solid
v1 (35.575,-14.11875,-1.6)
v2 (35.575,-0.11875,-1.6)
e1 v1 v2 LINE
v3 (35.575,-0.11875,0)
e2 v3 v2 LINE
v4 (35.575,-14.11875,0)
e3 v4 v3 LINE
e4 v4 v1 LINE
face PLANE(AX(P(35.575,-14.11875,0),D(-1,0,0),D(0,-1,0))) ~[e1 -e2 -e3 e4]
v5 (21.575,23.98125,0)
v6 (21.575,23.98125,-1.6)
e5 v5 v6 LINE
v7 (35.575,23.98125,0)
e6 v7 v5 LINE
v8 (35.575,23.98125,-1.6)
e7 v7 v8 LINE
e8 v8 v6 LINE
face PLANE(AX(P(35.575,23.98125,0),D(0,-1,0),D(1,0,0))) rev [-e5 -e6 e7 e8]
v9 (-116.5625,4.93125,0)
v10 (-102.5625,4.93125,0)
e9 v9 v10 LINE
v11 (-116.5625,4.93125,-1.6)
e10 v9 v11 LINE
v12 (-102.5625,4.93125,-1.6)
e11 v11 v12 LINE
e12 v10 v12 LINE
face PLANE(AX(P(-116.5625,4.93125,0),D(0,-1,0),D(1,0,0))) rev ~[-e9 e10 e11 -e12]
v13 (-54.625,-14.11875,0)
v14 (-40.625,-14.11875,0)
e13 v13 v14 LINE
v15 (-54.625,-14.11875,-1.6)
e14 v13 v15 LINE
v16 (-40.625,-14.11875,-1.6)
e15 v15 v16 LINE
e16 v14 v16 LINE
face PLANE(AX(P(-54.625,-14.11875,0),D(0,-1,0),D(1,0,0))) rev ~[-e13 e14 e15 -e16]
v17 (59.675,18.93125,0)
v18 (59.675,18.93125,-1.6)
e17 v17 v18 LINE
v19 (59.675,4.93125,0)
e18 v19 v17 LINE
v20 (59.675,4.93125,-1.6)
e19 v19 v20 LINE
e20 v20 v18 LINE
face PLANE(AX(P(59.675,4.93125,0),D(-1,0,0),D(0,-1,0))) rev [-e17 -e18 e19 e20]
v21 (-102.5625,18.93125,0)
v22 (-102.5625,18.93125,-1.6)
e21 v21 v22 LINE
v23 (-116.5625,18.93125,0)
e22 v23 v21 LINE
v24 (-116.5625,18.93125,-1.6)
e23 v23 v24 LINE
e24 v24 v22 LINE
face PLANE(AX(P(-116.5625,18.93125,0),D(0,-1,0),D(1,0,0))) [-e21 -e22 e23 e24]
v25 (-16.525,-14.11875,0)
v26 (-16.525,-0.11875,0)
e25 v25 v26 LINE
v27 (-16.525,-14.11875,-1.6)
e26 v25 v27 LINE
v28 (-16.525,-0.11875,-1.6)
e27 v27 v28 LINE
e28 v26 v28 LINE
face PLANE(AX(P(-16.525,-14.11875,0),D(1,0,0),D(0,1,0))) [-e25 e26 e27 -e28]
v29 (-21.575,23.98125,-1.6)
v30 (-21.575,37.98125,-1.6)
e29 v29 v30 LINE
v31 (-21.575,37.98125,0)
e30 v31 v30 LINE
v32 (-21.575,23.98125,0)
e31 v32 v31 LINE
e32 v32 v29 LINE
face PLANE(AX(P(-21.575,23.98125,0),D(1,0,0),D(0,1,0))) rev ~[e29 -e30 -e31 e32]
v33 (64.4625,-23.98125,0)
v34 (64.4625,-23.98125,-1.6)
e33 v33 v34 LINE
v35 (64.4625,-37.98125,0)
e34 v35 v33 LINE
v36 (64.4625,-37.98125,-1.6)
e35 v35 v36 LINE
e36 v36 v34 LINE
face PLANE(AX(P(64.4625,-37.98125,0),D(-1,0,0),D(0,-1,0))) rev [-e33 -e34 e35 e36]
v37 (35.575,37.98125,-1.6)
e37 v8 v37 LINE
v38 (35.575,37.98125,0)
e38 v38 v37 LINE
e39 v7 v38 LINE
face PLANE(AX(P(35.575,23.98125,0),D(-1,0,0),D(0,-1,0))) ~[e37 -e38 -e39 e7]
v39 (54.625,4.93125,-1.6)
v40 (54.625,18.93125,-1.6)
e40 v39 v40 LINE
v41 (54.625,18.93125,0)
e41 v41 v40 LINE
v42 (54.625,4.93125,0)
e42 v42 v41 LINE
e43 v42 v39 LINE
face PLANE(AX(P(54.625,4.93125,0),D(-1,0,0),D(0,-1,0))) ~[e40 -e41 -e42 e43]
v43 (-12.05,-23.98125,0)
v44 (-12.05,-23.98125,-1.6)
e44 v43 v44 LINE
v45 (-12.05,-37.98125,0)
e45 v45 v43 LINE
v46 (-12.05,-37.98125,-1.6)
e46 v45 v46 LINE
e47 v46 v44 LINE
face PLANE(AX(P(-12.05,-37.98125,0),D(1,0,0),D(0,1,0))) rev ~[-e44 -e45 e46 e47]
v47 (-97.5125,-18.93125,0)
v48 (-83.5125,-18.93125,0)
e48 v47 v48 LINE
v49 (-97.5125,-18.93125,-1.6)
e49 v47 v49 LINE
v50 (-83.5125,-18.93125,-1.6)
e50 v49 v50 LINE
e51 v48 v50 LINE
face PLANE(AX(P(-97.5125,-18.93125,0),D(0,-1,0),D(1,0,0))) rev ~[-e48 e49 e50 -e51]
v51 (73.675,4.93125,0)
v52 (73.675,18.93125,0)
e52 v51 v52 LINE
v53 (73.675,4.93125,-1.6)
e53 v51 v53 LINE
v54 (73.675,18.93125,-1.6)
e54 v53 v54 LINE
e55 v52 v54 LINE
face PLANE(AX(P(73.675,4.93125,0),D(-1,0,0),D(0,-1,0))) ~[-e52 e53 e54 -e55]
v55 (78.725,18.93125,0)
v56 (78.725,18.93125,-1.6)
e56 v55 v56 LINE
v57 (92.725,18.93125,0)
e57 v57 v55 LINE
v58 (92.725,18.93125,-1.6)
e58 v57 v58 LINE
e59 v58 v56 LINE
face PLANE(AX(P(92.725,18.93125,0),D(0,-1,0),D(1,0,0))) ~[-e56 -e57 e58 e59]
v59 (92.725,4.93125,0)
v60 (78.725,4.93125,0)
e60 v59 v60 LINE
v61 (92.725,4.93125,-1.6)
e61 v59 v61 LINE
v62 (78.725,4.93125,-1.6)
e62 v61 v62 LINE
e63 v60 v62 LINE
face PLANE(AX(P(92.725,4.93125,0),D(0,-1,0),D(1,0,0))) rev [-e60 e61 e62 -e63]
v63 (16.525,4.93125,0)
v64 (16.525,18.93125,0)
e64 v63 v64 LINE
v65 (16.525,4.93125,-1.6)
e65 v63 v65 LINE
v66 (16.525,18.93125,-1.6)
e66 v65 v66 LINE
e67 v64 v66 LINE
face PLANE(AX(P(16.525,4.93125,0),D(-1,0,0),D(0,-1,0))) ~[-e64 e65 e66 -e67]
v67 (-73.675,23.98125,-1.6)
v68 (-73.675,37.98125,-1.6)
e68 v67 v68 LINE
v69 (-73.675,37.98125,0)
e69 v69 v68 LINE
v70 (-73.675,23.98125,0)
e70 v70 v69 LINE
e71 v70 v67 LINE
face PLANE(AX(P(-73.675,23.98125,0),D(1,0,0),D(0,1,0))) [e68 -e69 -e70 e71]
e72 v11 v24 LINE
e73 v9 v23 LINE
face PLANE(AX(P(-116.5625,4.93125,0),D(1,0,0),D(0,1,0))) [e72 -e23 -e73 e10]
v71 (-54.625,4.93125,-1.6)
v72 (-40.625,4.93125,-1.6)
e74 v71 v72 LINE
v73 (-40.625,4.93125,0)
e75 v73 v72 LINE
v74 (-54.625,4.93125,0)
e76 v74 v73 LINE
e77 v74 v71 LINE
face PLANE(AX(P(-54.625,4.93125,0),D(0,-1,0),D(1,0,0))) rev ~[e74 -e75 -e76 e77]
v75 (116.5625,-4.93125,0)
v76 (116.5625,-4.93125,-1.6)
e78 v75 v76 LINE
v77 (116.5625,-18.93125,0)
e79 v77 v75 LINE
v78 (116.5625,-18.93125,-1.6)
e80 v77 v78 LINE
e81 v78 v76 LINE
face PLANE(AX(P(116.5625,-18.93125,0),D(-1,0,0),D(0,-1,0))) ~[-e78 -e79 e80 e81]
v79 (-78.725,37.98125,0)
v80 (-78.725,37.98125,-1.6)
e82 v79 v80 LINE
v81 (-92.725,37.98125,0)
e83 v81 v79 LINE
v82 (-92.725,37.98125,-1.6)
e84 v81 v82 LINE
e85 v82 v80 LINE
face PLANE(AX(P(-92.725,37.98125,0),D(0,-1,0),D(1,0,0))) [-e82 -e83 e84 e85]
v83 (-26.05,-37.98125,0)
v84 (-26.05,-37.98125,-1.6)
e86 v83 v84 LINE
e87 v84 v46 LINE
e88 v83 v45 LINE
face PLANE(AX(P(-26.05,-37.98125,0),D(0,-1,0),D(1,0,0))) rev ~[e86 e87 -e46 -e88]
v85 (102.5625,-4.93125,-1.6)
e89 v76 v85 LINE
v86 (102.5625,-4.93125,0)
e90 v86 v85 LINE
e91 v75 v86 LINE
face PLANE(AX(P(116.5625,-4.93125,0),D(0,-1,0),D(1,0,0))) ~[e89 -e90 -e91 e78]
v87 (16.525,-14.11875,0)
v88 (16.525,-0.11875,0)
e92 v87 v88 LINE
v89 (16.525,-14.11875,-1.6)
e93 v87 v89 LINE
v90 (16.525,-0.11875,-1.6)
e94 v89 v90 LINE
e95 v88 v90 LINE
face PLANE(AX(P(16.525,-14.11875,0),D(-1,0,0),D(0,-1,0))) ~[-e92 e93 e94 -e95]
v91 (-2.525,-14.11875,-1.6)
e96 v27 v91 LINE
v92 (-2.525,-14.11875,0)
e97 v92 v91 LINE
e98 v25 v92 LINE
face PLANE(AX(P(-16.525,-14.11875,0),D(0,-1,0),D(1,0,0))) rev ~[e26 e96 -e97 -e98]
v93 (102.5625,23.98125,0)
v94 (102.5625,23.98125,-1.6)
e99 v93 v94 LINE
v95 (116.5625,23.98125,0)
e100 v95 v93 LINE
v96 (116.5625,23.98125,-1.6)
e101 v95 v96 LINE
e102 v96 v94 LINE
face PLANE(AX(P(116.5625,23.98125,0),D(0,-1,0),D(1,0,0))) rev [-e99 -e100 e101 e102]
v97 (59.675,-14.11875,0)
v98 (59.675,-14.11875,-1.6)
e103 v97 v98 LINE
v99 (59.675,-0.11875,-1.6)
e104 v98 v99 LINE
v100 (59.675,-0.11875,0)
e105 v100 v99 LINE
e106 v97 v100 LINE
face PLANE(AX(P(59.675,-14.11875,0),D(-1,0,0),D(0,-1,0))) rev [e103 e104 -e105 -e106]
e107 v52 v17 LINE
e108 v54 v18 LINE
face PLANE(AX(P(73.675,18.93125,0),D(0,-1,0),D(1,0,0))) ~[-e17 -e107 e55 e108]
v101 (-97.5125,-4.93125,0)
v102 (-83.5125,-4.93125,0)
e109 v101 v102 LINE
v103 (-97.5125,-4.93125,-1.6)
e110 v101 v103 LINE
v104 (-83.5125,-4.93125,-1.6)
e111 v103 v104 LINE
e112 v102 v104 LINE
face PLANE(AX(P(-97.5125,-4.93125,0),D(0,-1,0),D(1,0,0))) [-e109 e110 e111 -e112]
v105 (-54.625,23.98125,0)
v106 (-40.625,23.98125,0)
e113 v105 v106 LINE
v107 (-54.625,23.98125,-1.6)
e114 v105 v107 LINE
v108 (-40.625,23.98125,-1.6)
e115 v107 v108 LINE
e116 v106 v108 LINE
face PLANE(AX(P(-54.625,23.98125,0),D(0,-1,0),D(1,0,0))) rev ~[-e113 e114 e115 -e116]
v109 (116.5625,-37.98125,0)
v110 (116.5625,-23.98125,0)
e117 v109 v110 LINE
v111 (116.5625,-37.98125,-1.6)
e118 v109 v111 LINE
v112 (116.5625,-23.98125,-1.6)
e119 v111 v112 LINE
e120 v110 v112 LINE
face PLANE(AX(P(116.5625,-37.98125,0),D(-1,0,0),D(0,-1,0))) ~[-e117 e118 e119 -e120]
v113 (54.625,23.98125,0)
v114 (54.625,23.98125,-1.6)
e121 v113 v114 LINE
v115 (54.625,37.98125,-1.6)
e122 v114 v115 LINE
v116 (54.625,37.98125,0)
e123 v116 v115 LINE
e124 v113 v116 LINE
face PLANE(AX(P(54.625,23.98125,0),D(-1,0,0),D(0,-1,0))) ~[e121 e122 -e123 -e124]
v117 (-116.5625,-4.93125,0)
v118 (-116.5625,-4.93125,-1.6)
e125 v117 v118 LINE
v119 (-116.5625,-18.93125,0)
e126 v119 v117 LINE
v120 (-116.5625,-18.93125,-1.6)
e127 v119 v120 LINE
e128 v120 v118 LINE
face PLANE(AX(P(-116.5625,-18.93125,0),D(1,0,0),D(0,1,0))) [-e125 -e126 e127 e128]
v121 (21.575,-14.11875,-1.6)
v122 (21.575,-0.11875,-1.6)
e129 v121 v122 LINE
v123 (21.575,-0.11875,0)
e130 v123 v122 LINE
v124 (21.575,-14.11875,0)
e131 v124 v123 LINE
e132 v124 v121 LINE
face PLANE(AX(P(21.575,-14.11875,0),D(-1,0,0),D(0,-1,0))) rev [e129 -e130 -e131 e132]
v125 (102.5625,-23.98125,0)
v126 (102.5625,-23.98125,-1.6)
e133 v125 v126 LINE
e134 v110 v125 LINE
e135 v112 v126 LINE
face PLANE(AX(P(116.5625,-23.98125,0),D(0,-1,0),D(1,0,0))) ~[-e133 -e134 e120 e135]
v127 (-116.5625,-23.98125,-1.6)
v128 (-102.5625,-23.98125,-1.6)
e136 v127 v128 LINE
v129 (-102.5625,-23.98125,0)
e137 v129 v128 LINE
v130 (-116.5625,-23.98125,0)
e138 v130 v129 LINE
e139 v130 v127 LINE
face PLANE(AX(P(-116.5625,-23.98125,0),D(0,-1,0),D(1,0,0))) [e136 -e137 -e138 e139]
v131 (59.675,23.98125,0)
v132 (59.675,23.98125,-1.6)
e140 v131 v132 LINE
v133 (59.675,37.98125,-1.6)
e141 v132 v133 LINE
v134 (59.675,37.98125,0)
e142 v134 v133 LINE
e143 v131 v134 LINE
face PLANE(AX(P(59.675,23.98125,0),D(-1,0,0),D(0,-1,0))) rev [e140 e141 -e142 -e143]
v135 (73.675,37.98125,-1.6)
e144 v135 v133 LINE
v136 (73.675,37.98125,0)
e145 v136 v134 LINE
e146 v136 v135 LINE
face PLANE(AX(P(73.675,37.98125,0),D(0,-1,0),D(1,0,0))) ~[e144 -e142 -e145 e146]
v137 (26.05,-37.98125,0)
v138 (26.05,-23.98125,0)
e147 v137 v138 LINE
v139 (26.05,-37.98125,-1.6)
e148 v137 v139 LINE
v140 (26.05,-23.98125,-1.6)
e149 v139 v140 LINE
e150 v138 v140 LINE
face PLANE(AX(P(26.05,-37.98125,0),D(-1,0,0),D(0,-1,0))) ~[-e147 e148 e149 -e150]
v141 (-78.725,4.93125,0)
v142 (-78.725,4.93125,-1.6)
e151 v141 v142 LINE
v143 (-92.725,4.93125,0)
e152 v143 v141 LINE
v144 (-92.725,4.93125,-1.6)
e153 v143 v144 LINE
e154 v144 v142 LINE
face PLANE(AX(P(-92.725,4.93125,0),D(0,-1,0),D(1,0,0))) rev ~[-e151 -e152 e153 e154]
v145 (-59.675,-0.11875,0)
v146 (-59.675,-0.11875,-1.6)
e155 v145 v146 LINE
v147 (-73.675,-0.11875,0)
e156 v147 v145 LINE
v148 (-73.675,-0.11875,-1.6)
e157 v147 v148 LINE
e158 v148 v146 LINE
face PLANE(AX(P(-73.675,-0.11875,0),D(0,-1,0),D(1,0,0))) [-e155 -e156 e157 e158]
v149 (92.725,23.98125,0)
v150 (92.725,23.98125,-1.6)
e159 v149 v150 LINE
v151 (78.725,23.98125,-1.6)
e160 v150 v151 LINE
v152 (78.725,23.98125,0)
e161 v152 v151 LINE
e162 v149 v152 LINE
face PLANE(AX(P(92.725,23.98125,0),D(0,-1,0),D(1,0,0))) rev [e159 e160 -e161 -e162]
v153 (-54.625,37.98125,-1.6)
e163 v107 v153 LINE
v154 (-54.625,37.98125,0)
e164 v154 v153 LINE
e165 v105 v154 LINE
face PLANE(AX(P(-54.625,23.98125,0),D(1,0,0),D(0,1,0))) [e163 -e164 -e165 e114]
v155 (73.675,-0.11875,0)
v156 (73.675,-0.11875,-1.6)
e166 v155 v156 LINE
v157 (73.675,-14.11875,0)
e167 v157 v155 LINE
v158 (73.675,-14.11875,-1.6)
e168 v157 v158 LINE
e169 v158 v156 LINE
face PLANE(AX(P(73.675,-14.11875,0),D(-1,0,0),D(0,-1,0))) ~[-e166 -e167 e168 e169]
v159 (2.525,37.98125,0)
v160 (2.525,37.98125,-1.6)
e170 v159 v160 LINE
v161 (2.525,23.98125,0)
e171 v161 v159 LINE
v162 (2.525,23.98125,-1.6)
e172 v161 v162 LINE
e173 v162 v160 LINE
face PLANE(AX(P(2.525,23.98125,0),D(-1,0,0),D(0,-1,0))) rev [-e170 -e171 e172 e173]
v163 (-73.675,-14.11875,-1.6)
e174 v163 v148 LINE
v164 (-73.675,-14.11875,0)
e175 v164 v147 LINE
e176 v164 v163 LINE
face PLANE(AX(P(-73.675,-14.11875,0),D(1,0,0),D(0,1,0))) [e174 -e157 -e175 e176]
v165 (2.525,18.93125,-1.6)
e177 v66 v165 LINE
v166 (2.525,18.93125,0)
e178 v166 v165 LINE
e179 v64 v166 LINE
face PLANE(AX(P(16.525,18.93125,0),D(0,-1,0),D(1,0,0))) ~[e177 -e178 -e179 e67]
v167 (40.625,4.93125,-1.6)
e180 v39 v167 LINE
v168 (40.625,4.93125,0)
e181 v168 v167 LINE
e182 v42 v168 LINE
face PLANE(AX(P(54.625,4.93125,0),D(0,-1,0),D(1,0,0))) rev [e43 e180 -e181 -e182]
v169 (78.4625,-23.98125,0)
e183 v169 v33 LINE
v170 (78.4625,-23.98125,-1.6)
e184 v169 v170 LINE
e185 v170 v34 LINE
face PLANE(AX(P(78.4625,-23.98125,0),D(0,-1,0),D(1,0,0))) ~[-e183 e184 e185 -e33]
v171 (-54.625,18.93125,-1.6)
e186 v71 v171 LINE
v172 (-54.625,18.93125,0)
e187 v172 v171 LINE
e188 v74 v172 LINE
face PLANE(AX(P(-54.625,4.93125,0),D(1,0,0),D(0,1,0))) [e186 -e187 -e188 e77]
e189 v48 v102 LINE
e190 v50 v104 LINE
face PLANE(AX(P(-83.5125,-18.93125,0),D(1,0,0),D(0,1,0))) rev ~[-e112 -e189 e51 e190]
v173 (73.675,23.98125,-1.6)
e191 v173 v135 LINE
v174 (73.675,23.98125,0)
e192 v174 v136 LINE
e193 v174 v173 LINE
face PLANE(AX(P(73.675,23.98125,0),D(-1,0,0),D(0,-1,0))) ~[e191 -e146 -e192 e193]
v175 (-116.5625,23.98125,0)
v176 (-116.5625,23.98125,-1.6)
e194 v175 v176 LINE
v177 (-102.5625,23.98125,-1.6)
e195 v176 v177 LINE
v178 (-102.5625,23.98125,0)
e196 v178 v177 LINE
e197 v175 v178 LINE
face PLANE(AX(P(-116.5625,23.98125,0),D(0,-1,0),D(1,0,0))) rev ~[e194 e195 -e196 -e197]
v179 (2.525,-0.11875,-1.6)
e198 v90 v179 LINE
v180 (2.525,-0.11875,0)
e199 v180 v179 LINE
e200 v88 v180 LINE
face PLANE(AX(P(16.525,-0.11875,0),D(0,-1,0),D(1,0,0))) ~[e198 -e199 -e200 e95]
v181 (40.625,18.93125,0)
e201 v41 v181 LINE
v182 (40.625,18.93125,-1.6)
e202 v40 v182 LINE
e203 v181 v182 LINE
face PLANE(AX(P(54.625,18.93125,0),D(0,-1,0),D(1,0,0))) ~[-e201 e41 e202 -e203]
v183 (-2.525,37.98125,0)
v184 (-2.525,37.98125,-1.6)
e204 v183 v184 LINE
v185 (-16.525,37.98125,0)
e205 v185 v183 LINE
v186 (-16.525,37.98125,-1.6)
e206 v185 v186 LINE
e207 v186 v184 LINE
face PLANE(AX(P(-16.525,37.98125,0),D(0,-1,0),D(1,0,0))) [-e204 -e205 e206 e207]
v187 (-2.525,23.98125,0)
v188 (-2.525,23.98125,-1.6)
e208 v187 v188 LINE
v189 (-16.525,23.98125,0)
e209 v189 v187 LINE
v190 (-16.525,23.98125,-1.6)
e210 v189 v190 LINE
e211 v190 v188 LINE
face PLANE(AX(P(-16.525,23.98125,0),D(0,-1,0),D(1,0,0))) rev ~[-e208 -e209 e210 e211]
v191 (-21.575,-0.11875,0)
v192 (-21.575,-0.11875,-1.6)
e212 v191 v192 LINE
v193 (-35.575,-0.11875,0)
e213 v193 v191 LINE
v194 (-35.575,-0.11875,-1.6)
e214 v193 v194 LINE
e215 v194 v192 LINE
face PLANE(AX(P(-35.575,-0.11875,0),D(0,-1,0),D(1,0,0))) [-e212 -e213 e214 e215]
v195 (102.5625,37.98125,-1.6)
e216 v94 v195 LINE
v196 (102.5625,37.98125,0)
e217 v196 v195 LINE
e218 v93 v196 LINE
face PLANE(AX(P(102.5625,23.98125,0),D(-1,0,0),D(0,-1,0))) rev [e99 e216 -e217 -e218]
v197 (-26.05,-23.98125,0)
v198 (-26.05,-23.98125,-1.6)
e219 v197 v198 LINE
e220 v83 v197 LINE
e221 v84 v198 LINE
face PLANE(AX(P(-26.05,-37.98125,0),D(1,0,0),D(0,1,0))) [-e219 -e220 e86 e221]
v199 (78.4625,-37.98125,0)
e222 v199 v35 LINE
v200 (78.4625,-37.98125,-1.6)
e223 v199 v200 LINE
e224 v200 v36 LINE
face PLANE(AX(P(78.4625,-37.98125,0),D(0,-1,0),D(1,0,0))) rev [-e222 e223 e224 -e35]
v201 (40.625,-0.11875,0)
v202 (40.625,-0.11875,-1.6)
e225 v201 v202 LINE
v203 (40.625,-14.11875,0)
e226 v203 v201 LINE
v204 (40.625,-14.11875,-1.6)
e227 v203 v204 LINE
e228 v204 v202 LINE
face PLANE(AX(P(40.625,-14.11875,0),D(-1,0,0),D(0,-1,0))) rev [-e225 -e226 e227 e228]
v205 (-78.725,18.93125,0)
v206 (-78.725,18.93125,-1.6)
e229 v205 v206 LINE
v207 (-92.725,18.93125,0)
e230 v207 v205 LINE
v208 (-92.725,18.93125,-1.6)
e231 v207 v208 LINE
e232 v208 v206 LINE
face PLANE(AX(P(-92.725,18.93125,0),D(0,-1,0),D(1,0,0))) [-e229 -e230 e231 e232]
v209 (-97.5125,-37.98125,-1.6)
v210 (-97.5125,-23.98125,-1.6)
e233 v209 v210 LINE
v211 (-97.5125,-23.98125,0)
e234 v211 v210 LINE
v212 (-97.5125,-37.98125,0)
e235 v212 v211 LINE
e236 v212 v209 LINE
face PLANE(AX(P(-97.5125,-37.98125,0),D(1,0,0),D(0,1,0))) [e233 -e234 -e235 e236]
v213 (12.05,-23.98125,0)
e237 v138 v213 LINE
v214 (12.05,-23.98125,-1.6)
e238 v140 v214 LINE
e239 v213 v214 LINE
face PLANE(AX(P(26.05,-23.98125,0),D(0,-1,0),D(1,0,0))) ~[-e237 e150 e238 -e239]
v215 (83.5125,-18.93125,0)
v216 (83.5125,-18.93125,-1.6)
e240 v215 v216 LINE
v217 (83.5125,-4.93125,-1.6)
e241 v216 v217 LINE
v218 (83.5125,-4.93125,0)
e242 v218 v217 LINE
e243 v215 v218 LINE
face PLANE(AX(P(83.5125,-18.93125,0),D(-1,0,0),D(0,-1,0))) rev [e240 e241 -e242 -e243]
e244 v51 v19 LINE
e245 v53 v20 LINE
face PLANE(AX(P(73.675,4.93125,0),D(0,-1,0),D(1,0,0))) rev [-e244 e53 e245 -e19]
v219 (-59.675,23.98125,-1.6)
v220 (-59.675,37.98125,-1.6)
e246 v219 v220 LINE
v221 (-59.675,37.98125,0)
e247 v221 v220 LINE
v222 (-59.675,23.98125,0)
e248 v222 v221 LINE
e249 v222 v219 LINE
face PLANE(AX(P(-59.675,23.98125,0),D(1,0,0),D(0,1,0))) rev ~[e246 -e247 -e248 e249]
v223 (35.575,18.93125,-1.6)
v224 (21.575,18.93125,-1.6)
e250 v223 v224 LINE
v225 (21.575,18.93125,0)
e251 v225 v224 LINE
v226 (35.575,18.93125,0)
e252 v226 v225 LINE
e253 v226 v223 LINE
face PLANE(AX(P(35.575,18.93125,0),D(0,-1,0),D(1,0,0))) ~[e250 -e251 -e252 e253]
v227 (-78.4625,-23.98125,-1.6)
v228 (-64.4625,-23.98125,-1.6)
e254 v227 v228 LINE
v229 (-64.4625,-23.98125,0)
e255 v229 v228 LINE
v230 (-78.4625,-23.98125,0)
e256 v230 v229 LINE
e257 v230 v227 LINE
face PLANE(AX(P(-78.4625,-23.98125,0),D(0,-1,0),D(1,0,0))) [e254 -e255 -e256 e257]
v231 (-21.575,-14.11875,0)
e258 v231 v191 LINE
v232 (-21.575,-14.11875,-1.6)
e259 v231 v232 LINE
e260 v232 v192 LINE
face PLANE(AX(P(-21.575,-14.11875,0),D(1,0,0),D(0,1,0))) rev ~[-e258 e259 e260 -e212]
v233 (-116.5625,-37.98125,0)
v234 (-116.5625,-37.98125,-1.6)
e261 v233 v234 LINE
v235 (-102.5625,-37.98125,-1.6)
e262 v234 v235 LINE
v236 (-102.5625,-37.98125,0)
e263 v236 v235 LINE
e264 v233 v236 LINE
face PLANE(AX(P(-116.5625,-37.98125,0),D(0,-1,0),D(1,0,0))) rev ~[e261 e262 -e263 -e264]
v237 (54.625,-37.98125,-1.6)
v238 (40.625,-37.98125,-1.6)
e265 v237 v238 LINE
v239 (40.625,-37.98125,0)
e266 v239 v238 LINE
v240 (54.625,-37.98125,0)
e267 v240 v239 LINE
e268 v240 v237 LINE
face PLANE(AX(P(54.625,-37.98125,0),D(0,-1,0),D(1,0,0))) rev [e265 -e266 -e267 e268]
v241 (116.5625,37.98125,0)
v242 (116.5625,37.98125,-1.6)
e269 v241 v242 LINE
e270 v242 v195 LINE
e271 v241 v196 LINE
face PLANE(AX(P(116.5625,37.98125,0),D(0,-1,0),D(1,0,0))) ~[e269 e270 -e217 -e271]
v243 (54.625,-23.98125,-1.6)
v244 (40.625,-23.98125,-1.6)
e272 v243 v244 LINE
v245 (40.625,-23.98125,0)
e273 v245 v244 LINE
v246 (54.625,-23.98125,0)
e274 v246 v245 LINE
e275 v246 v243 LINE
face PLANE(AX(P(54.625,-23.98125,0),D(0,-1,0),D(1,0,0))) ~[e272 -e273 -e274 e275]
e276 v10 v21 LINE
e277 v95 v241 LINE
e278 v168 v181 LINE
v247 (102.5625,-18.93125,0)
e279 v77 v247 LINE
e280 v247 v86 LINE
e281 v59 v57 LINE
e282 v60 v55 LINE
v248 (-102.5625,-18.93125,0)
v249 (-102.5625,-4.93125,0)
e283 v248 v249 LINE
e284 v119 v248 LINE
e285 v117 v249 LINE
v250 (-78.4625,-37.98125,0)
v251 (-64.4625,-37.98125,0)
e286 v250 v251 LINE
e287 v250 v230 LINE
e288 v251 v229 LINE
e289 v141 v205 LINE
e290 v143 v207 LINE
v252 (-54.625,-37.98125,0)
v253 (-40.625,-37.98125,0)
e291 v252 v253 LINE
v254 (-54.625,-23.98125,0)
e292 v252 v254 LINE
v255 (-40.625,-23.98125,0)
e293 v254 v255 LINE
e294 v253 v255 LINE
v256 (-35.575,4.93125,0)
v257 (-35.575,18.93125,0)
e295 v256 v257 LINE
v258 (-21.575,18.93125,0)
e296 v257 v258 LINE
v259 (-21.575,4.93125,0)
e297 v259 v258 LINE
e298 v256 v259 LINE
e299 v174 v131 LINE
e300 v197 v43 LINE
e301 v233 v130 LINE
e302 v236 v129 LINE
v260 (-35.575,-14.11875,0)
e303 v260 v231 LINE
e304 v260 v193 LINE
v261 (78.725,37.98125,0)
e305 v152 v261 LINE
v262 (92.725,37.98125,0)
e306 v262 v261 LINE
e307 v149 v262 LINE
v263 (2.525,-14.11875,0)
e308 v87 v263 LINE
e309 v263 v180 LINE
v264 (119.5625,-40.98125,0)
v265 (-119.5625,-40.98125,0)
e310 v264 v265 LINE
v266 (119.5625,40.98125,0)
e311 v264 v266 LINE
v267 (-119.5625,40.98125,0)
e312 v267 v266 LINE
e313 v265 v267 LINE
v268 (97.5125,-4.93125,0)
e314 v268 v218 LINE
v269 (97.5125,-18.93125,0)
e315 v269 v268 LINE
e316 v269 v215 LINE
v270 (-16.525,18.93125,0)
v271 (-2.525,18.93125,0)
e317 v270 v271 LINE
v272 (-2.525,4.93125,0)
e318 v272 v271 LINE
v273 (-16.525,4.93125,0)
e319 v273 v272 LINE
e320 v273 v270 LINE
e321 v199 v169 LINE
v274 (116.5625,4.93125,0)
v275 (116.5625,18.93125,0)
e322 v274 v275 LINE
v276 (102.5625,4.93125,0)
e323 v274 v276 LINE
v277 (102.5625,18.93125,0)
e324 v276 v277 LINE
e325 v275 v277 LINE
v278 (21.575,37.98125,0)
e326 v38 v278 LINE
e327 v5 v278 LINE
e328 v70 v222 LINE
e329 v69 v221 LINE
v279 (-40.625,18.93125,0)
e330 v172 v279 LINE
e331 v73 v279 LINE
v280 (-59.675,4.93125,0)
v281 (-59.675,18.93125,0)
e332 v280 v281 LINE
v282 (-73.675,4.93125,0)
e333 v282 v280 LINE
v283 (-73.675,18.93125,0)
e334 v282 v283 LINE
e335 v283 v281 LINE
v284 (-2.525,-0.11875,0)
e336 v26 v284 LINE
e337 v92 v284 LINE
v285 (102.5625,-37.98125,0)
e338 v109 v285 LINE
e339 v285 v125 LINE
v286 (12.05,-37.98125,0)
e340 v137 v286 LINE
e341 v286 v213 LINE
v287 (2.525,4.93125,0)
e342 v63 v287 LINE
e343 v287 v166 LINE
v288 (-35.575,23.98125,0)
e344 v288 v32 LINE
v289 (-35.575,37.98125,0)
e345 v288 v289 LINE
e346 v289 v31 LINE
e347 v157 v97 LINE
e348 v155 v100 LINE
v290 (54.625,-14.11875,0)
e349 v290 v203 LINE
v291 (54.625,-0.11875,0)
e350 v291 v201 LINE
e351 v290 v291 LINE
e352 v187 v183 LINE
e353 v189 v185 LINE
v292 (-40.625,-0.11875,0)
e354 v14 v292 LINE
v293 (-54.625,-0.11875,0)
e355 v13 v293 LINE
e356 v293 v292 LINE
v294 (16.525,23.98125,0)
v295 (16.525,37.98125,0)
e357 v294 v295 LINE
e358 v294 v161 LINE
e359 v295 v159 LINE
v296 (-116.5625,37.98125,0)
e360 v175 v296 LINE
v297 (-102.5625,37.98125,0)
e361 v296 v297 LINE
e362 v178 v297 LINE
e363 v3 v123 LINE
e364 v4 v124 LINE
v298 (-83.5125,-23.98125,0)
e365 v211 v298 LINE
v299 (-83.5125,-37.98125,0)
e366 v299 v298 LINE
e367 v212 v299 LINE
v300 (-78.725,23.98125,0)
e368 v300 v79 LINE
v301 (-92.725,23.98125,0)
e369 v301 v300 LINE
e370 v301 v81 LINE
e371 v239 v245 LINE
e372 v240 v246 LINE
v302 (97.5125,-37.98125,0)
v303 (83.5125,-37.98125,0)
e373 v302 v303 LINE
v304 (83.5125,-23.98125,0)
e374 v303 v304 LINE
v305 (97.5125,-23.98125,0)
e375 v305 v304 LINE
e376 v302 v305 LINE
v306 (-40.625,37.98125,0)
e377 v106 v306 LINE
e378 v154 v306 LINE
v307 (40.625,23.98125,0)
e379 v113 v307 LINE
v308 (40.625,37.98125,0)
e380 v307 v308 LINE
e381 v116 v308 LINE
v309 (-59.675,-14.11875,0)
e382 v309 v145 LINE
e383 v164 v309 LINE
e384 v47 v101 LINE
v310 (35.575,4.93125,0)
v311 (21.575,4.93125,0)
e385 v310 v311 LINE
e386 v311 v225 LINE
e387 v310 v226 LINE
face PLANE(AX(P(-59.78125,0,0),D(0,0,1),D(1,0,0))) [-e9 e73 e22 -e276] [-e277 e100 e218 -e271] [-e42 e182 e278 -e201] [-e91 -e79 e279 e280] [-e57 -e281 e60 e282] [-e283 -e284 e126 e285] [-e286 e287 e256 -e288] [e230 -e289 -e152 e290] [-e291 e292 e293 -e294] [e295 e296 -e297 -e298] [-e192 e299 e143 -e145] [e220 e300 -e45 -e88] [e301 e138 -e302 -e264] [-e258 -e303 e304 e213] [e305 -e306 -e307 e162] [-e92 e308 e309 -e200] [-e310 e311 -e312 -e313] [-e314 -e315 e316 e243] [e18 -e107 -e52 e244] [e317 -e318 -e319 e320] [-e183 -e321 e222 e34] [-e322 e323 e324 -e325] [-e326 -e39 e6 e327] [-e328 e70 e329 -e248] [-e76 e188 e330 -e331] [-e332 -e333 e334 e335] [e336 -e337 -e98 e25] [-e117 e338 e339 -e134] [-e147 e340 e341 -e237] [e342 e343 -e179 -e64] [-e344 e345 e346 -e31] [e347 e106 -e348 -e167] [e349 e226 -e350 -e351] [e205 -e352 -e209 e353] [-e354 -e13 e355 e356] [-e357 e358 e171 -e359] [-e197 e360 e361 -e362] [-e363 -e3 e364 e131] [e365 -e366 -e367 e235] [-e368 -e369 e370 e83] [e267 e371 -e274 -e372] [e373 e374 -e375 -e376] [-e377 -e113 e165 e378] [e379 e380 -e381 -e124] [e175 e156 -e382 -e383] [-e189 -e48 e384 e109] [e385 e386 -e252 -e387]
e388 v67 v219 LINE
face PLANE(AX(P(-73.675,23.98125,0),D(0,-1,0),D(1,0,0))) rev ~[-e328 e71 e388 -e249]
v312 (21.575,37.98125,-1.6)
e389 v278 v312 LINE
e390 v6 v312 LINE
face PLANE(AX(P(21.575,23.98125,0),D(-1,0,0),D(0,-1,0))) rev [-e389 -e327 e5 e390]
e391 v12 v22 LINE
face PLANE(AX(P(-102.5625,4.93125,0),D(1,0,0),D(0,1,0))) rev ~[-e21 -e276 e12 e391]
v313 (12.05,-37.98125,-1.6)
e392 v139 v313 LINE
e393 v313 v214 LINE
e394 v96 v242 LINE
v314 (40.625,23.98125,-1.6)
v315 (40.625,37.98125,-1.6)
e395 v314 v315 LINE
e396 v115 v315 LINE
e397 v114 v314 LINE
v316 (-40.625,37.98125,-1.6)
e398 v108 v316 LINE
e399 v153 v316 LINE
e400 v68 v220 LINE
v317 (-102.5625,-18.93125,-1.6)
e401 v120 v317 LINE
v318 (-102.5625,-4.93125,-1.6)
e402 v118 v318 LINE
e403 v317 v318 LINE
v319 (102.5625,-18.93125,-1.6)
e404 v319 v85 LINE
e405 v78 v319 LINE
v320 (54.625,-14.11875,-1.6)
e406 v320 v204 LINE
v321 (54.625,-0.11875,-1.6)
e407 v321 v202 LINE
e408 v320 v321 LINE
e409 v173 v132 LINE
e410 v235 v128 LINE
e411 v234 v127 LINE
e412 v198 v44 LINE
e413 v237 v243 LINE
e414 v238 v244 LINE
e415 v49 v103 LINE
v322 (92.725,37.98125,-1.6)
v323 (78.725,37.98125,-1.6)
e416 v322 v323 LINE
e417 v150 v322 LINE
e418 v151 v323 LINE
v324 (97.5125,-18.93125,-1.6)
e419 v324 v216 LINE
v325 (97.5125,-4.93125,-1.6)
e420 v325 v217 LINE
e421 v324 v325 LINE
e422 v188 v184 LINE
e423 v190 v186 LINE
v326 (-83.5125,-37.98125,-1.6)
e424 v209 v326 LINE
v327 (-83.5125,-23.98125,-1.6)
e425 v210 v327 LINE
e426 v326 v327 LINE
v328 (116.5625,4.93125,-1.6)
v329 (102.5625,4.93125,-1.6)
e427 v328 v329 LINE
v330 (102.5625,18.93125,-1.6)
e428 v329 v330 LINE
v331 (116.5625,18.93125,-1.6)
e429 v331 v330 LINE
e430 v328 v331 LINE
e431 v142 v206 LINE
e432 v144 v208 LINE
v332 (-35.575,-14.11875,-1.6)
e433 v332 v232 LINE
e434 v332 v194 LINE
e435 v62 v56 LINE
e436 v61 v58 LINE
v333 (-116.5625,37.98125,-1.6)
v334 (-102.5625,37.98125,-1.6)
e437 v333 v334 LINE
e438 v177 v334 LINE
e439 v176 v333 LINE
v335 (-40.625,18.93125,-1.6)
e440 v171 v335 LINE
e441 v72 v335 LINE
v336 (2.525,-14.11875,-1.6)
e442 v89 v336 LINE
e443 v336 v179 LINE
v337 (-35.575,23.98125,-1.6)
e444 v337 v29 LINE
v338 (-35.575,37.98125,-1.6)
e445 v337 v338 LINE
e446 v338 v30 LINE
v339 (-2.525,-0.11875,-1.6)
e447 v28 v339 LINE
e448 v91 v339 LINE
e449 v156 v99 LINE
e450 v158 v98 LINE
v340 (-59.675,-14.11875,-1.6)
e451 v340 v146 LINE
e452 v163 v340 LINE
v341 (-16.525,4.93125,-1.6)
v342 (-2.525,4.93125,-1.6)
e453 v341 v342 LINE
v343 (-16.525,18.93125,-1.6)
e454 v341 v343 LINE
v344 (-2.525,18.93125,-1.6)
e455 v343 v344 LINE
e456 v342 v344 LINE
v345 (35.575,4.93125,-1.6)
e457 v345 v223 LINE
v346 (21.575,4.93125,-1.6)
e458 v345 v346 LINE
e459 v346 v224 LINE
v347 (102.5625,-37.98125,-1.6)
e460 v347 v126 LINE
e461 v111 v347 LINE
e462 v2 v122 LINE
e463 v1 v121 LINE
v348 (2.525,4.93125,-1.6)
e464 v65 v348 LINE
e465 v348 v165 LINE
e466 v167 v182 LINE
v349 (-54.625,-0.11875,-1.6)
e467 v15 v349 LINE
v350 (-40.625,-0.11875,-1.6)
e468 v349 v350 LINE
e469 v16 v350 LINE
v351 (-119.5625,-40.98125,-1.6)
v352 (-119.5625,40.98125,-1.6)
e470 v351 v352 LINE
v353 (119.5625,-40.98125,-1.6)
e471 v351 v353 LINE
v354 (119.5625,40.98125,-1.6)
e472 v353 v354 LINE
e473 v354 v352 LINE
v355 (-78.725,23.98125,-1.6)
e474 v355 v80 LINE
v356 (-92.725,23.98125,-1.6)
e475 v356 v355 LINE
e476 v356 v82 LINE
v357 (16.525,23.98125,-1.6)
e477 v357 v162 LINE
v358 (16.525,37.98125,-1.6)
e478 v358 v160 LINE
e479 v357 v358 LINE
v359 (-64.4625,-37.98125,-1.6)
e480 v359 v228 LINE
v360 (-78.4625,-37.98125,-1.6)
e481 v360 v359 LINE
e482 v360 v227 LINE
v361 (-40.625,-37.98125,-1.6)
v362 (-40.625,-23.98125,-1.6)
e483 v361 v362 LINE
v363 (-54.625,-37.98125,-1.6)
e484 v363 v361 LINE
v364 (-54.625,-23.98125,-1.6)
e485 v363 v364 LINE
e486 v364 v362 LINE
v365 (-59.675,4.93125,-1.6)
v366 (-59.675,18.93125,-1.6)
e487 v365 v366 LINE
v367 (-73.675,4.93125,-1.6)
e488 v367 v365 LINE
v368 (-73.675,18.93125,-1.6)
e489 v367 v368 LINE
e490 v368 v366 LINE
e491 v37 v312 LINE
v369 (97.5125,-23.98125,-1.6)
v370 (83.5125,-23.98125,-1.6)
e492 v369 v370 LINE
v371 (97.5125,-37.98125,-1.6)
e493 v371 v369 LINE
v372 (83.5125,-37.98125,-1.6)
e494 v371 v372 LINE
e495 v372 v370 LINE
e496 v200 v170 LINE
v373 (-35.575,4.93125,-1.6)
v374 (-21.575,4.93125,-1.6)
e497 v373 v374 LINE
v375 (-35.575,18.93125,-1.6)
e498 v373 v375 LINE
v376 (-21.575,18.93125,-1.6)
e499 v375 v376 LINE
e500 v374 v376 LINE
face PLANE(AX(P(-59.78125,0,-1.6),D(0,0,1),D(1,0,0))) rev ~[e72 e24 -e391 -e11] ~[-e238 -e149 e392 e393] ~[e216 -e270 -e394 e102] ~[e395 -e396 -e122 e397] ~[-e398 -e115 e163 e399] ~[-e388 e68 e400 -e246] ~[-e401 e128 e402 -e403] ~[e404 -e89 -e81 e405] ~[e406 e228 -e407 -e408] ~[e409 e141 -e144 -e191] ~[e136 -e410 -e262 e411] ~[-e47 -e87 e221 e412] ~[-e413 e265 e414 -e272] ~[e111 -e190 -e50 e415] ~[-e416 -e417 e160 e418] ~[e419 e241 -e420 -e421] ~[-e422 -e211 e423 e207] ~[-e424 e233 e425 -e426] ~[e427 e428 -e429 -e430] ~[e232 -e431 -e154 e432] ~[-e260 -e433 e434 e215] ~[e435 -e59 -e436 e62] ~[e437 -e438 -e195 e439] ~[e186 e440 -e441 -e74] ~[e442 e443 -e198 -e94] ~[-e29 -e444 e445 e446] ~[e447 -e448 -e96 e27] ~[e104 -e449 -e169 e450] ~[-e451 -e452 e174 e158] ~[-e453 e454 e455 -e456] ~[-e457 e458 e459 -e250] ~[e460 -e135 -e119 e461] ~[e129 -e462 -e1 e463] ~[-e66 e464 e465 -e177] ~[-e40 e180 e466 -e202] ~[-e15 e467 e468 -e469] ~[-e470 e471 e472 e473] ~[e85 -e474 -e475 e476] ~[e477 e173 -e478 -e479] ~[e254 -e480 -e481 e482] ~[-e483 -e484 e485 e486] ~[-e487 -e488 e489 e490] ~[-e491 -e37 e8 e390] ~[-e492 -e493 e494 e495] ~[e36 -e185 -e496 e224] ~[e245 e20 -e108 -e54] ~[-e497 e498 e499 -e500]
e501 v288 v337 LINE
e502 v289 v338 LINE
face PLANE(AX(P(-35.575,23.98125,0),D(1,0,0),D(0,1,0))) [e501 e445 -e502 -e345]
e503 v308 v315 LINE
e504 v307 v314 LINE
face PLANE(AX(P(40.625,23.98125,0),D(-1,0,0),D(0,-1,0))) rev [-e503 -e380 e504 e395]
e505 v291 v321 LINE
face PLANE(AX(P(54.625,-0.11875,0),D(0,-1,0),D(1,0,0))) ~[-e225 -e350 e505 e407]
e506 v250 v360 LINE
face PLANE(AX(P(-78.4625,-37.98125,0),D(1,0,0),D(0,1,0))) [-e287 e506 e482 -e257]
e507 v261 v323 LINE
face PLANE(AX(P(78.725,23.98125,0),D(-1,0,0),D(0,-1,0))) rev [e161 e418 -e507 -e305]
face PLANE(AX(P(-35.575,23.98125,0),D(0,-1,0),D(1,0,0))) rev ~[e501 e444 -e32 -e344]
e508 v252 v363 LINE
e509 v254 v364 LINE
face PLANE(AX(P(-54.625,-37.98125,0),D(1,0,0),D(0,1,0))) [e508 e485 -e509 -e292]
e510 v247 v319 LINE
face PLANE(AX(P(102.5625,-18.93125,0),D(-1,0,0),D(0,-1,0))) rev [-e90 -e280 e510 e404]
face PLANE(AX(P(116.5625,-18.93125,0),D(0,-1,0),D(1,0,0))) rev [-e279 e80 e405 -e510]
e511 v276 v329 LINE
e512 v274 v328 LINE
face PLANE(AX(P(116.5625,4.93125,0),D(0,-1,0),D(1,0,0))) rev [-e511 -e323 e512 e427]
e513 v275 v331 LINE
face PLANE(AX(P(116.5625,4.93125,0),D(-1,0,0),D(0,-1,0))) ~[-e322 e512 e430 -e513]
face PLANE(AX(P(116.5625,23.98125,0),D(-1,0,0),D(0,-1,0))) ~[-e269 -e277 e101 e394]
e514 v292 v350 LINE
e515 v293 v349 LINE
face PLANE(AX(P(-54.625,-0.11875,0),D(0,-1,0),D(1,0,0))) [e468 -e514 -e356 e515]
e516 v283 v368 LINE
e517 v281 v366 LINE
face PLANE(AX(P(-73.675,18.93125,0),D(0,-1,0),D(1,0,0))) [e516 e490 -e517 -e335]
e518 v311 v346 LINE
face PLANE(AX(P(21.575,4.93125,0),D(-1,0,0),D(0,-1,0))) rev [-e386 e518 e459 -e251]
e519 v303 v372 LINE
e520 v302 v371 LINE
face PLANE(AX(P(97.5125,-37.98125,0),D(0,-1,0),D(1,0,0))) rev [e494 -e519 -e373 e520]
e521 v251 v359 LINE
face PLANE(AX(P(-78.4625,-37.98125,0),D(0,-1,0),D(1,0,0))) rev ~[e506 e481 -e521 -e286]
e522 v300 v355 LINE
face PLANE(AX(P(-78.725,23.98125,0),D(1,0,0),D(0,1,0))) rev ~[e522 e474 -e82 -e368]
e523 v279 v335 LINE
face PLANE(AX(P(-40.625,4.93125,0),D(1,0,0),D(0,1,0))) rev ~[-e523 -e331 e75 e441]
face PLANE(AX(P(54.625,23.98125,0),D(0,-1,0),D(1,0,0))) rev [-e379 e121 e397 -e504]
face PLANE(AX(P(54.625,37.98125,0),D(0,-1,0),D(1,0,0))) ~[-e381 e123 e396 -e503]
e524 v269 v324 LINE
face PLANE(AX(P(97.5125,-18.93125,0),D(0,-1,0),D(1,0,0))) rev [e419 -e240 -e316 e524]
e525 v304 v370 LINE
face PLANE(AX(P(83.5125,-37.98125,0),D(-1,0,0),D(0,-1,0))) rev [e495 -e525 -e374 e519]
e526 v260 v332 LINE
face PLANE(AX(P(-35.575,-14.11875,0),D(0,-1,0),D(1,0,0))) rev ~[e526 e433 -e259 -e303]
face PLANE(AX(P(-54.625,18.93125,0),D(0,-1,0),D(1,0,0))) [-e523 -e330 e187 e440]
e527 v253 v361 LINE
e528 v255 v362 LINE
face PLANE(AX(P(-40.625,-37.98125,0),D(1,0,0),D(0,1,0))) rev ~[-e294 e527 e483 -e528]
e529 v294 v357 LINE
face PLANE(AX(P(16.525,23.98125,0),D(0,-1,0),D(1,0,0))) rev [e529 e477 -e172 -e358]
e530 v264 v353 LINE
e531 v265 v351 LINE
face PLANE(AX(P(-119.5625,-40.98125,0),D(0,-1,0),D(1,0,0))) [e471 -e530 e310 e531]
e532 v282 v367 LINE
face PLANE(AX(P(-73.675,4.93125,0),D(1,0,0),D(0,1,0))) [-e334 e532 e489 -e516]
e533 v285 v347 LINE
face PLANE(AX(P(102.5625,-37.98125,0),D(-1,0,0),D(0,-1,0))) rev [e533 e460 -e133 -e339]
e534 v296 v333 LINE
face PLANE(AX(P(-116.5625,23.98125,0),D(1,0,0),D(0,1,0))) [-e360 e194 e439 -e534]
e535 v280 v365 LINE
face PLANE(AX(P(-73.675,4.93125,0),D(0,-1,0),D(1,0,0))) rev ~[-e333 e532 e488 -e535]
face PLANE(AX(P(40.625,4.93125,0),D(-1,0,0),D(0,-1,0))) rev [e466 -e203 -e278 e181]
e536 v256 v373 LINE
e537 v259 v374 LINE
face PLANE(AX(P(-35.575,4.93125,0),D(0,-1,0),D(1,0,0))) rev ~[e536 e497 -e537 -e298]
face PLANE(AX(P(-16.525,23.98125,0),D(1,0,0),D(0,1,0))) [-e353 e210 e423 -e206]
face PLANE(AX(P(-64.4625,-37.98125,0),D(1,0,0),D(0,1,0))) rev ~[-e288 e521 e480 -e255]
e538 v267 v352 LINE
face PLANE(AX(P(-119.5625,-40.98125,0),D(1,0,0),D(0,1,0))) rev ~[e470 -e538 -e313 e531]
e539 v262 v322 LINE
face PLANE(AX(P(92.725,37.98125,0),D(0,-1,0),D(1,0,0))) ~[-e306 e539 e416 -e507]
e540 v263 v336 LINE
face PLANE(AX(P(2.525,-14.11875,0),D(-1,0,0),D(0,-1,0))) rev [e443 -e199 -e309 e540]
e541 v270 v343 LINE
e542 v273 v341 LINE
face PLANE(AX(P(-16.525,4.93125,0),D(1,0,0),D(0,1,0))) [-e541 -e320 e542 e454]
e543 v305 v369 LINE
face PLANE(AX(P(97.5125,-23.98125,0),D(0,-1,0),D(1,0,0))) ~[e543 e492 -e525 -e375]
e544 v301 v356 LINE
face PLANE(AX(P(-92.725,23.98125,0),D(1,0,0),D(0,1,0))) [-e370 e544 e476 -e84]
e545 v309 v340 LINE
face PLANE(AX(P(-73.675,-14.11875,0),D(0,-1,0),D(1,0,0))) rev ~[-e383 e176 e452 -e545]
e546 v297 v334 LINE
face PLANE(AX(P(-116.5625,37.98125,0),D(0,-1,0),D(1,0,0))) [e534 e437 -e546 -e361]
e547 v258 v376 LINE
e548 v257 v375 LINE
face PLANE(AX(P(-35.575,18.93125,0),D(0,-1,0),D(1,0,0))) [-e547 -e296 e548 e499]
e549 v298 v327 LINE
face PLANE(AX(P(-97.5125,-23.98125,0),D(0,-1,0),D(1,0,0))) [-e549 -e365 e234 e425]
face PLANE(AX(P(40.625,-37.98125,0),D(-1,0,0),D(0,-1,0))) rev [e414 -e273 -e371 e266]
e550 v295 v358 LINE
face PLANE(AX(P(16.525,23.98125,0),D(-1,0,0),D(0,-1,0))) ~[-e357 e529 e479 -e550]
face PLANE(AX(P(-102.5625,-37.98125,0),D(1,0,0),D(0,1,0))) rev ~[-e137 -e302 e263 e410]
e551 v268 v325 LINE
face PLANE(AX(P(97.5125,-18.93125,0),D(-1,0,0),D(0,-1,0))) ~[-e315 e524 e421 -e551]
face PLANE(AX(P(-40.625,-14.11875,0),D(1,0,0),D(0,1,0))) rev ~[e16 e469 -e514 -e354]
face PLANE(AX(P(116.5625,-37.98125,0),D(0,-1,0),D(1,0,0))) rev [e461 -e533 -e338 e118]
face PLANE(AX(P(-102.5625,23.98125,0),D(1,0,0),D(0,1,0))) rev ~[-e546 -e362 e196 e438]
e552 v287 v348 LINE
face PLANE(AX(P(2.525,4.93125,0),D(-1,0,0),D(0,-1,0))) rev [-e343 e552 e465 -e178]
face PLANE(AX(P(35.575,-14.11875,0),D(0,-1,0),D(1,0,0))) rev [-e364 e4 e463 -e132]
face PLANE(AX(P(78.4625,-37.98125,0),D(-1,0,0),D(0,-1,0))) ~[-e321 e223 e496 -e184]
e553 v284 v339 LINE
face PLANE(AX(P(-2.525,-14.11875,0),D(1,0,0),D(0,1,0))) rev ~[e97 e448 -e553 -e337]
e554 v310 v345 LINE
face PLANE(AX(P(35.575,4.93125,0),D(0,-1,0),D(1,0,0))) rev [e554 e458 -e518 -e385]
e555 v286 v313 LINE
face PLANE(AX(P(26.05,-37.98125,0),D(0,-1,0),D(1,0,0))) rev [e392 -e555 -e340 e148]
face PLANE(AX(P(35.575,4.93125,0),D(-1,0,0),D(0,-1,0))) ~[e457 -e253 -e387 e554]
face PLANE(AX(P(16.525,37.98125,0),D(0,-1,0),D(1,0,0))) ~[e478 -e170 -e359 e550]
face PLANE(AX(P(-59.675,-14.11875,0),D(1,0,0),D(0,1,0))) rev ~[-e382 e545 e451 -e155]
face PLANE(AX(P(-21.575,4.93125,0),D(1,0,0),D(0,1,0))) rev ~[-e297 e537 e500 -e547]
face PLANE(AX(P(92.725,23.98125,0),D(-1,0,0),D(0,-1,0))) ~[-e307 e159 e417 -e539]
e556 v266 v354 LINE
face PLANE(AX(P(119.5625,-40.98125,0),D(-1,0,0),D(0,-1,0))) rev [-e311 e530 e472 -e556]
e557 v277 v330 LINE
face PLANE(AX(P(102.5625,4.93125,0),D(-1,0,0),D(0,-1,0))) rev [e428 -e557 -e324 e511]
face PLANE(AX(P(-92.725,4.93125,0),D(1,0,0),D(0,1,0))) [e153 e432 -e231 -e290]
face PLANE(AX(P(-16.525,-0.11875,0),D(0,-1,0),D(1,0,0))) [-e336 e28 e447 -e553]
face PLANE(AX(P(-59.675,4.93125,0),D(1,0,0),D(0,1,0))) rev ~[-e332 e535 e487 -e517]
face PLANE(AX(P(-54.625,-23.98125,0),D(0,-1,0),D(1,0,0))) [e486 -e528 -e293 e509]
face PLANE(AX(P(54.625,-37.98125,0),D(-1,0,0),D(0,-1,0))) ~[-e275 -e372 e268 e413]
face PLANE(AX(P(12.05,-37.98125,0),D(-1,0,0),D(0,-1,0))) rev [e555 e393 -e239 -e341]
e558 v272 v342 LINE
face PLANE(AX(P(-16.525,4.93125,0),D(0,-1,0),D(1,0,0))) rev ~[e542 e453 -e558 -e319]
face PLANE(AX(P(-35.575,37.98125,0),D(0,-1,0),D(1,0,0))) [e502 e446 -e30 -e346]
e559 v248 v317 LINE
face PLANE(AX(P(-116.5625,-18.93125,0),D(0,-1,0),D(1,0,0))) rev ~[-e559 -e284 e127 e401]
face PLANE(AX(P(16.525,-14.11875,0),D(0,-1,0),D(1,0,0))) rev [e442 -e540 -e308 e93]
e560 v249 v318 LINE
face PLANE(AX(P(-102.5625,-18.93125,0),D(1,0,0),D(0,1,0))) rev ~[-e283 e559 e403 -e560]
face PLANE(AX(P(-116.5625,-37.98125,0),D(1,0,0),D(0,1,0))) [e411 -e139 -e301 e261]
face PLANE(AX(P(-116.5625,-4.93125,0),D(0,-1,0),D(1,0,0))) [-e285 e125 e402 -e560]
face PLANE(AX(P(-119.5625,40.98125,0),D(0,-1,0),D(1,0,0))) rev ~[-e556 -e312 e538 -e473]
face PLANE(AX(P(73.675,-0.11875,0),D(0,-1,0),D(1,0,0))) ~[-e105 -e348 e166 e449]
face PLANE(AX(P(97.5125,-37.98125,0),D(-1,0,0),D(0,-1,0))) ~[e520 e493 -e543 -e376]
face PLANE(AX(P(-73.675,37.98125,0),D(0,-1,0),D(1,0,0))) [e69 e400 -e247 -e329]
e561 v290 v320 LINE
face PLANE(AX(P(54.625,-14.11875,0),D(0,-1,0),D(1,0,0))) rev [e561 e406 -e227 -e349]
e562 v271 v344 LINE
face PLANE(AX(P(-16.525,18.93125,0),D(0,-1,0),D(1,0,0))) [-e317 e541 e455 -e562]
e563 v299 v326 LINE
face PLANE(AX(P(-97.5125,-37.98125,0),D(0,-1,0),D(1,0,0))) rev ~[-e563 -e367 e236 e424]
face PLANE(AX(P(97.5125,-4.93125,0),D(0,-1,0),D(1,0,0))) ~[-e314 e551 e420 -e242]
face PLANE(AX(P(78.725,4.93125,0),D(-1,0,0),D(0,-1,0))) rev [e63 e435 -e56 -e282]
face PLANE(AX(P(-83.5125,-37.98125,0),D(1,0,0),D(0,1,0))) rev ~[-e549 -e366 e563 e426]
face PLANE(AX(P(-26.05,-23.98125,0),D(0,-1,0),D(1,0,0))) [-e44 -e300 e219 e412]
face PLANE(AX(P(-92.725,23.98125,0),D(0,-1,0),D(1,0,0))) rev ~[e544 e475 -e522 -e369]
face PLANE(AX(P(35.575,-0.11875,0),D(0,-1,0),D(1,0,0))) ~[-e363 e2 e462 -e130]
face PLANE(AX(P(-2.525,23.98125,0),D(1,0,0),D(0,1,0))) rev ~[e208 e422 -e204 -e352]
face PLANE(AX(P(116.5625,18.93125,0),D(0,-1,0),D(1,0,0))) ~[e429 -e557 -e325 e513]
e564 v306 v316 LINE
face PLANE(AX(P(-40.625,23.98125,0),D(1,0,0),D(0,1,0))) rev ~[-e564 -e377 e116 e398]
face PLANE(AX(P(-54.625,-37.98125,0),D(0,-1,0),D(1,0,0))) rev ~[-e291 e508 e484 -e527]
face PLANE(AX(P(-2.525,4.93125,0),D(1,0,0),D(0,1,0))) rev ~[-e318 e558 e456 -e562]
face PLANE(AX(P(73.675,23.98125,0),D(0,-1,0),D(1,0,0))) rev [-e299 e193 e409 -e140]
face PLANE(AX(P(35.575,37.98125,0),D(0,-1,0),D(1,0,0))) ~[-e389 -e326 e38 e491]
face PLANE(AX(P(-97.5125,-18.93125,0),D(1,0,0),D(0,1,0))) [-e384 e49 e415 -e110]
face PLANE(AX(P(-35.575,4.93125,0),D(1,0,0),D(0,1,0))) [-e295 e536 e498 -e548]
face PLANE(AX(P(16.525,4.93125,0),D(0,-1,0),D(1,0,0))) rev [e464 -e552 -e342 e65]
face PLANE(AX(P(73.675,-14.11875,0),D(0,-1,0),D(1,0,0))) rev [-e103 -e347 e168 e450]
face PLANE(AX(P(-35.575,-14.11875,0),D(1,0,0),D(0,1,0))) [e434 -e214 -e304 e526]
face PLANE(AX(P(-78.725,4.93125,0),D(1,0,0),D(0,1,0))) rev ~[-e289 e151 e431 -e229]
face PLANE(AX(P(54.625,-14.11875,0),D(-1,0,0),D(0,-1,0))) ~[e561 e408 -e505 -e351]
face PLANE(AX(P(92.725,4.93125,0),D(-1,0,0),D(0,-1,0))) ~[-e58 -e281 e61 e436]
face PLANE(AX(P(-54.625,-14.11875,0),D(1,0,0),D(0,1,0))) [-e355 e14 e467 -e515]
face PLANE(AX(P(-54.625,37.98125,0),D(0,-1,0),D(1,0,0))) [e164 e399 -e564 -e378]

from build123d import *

# Parameters (mm, degrees)
SKETCH036_W     = 119.5625
SKETCH036_H     = 81.9625
PAD015_DEPTH    = 1.6
SKETCH037_W     = 14
SKETCH037_H     = 14
POCKET022_DEPTH = 5
SKETCH038_W     = 14
SKETCH038_H     = 14
POCKET023_DEPTH = 5
SKETCH039_W     = 14
SKETCH039_H     = 14
POCKET024_DEPTH = 5


with BuildPart() as plate:
    # Sketch036 → Pad015 (new body)
    with BuildSketch(Plane.XY):
        with Locations((-59.78125, 0)):
            Rectangle(SKETCH036_W, SKETCH036_H)
    extrude(amount=-PAD015_DEPTH)

    # Sketch037 → Pocket022 (cut)
    with BuildSketch(Plane.XY):
        with Locations((-9.525, 30.98125)):
            Rectangle(SKETCH037_W, SKETCH037_H)
        with Locations((-28.575, 30.98125)):
            Rectangle(SKETCH037_W, SKETCH037_H)
        with Locations((-47.625, 30.98125)):
            Rectangle(SKETCH037_W, SKETCH037_H)
        with Locations((-66.675, 30.98125)):
            Rectangle(SKETCH037_W, SKETCH037_H)
        with Locations((-85.725, 30.98125)):
            Rectangle(SKETCH037_W, SKETCH037_H)
        with Locations((-85.725, 11.93125)):
            Rectangle(SKETCH037_W, SKETCH037_H)
        with Locations((-66.675, 11.93125)):
            Rectangle(SKETCH037_W, SKETCH037_H)
        with Locations((-9.525, 11.93125)):
            Rectangle(SKETCH037_W, SKETCH037_H)
        with Locations((-47.625, 11.93125)):
            Rectangle(SKETCH037_W, SKETCH037_H)
        with Locations((-28.575, 11.93125)):
            Rectangle(SKETCH037_W, SKETCH037_H)
        with Locations((-9.525, -7.11875)):
            Rectangle(SKETCH037_W, SKETCH037_H)
        with Locations((-28.575, -7.11875)):
            Rectangle(SKETCH037_W, SKETCH037_H)
        with Locations((-47.625, -7.11875)):
            Rectangle(SKETCH037_W, SKETCH037_H)
        with Locations((-66.675, -7.11875)):
            Rectangle(SKETCH037_W, SKETCH037_H)
    extrude(amount=-POCKET022_DEPTH, mode=Mode.SUBTRACT)

    # Sketch038 → Pocket023 (cut)
    with BuildSketch(Plane.XY):
        with Locations((-109.5625, 30.98125)):
            Rectangle(SKETCH038_W, SKETCH038_H)
        with Locations((-109.5625, 11.93125)):
            Rectangle(SKETCH038_W, SKETCH038_H)
        with Locations((-109.5625, -11.93125)):
            Rectangle(SKETCH038_W, SKETCH038_H)
        with Locations((-109.5625, -30.98125)):
            Rectangle(SKETCH038_W, SKETCH038_H)
        with Locations((-90.5125, -11.93125)):
            Rectangle(SKETCH038_W, SKETCH038_H)
        with Locations((-90.5125, -30.98125)):
            Rectangle(SKETCH038_W, SKETCH038_H)
        with Locations((-71.4625, -30.98125)):
            Rectangle(SKETCH038_W, SKETCH038_H)
    extrude(amount=-POCKET023_DEPTH, mode=Mode.SUBTRACT)

    # Sketch039 → Pocket024 (cut)
    with BuildSketch(Plane.XY):
        with Locations((-47.625, -30.98125)):
            Rectangle(SKETCH039_W, SKETCH039_H)
        with Locations((-19.05, -30.98125)):
            Rectangle(SKETCH039_W, SKETCH039_H)
    extrude(amount=-POCKET024_DEPTH, mode=Mode.SUBTRACT)


with BuildPart() as case_plate:
    # Part__Mirroring002: instance of plate
    add(plate.part.mirror(Plane(origin=(0, 0, 0), x_dir=(0, -1, 0), z_dir=(1, 0, 0))))

    # Fusion002: union plate
    add(plate.part)


solid = case_plate.part
